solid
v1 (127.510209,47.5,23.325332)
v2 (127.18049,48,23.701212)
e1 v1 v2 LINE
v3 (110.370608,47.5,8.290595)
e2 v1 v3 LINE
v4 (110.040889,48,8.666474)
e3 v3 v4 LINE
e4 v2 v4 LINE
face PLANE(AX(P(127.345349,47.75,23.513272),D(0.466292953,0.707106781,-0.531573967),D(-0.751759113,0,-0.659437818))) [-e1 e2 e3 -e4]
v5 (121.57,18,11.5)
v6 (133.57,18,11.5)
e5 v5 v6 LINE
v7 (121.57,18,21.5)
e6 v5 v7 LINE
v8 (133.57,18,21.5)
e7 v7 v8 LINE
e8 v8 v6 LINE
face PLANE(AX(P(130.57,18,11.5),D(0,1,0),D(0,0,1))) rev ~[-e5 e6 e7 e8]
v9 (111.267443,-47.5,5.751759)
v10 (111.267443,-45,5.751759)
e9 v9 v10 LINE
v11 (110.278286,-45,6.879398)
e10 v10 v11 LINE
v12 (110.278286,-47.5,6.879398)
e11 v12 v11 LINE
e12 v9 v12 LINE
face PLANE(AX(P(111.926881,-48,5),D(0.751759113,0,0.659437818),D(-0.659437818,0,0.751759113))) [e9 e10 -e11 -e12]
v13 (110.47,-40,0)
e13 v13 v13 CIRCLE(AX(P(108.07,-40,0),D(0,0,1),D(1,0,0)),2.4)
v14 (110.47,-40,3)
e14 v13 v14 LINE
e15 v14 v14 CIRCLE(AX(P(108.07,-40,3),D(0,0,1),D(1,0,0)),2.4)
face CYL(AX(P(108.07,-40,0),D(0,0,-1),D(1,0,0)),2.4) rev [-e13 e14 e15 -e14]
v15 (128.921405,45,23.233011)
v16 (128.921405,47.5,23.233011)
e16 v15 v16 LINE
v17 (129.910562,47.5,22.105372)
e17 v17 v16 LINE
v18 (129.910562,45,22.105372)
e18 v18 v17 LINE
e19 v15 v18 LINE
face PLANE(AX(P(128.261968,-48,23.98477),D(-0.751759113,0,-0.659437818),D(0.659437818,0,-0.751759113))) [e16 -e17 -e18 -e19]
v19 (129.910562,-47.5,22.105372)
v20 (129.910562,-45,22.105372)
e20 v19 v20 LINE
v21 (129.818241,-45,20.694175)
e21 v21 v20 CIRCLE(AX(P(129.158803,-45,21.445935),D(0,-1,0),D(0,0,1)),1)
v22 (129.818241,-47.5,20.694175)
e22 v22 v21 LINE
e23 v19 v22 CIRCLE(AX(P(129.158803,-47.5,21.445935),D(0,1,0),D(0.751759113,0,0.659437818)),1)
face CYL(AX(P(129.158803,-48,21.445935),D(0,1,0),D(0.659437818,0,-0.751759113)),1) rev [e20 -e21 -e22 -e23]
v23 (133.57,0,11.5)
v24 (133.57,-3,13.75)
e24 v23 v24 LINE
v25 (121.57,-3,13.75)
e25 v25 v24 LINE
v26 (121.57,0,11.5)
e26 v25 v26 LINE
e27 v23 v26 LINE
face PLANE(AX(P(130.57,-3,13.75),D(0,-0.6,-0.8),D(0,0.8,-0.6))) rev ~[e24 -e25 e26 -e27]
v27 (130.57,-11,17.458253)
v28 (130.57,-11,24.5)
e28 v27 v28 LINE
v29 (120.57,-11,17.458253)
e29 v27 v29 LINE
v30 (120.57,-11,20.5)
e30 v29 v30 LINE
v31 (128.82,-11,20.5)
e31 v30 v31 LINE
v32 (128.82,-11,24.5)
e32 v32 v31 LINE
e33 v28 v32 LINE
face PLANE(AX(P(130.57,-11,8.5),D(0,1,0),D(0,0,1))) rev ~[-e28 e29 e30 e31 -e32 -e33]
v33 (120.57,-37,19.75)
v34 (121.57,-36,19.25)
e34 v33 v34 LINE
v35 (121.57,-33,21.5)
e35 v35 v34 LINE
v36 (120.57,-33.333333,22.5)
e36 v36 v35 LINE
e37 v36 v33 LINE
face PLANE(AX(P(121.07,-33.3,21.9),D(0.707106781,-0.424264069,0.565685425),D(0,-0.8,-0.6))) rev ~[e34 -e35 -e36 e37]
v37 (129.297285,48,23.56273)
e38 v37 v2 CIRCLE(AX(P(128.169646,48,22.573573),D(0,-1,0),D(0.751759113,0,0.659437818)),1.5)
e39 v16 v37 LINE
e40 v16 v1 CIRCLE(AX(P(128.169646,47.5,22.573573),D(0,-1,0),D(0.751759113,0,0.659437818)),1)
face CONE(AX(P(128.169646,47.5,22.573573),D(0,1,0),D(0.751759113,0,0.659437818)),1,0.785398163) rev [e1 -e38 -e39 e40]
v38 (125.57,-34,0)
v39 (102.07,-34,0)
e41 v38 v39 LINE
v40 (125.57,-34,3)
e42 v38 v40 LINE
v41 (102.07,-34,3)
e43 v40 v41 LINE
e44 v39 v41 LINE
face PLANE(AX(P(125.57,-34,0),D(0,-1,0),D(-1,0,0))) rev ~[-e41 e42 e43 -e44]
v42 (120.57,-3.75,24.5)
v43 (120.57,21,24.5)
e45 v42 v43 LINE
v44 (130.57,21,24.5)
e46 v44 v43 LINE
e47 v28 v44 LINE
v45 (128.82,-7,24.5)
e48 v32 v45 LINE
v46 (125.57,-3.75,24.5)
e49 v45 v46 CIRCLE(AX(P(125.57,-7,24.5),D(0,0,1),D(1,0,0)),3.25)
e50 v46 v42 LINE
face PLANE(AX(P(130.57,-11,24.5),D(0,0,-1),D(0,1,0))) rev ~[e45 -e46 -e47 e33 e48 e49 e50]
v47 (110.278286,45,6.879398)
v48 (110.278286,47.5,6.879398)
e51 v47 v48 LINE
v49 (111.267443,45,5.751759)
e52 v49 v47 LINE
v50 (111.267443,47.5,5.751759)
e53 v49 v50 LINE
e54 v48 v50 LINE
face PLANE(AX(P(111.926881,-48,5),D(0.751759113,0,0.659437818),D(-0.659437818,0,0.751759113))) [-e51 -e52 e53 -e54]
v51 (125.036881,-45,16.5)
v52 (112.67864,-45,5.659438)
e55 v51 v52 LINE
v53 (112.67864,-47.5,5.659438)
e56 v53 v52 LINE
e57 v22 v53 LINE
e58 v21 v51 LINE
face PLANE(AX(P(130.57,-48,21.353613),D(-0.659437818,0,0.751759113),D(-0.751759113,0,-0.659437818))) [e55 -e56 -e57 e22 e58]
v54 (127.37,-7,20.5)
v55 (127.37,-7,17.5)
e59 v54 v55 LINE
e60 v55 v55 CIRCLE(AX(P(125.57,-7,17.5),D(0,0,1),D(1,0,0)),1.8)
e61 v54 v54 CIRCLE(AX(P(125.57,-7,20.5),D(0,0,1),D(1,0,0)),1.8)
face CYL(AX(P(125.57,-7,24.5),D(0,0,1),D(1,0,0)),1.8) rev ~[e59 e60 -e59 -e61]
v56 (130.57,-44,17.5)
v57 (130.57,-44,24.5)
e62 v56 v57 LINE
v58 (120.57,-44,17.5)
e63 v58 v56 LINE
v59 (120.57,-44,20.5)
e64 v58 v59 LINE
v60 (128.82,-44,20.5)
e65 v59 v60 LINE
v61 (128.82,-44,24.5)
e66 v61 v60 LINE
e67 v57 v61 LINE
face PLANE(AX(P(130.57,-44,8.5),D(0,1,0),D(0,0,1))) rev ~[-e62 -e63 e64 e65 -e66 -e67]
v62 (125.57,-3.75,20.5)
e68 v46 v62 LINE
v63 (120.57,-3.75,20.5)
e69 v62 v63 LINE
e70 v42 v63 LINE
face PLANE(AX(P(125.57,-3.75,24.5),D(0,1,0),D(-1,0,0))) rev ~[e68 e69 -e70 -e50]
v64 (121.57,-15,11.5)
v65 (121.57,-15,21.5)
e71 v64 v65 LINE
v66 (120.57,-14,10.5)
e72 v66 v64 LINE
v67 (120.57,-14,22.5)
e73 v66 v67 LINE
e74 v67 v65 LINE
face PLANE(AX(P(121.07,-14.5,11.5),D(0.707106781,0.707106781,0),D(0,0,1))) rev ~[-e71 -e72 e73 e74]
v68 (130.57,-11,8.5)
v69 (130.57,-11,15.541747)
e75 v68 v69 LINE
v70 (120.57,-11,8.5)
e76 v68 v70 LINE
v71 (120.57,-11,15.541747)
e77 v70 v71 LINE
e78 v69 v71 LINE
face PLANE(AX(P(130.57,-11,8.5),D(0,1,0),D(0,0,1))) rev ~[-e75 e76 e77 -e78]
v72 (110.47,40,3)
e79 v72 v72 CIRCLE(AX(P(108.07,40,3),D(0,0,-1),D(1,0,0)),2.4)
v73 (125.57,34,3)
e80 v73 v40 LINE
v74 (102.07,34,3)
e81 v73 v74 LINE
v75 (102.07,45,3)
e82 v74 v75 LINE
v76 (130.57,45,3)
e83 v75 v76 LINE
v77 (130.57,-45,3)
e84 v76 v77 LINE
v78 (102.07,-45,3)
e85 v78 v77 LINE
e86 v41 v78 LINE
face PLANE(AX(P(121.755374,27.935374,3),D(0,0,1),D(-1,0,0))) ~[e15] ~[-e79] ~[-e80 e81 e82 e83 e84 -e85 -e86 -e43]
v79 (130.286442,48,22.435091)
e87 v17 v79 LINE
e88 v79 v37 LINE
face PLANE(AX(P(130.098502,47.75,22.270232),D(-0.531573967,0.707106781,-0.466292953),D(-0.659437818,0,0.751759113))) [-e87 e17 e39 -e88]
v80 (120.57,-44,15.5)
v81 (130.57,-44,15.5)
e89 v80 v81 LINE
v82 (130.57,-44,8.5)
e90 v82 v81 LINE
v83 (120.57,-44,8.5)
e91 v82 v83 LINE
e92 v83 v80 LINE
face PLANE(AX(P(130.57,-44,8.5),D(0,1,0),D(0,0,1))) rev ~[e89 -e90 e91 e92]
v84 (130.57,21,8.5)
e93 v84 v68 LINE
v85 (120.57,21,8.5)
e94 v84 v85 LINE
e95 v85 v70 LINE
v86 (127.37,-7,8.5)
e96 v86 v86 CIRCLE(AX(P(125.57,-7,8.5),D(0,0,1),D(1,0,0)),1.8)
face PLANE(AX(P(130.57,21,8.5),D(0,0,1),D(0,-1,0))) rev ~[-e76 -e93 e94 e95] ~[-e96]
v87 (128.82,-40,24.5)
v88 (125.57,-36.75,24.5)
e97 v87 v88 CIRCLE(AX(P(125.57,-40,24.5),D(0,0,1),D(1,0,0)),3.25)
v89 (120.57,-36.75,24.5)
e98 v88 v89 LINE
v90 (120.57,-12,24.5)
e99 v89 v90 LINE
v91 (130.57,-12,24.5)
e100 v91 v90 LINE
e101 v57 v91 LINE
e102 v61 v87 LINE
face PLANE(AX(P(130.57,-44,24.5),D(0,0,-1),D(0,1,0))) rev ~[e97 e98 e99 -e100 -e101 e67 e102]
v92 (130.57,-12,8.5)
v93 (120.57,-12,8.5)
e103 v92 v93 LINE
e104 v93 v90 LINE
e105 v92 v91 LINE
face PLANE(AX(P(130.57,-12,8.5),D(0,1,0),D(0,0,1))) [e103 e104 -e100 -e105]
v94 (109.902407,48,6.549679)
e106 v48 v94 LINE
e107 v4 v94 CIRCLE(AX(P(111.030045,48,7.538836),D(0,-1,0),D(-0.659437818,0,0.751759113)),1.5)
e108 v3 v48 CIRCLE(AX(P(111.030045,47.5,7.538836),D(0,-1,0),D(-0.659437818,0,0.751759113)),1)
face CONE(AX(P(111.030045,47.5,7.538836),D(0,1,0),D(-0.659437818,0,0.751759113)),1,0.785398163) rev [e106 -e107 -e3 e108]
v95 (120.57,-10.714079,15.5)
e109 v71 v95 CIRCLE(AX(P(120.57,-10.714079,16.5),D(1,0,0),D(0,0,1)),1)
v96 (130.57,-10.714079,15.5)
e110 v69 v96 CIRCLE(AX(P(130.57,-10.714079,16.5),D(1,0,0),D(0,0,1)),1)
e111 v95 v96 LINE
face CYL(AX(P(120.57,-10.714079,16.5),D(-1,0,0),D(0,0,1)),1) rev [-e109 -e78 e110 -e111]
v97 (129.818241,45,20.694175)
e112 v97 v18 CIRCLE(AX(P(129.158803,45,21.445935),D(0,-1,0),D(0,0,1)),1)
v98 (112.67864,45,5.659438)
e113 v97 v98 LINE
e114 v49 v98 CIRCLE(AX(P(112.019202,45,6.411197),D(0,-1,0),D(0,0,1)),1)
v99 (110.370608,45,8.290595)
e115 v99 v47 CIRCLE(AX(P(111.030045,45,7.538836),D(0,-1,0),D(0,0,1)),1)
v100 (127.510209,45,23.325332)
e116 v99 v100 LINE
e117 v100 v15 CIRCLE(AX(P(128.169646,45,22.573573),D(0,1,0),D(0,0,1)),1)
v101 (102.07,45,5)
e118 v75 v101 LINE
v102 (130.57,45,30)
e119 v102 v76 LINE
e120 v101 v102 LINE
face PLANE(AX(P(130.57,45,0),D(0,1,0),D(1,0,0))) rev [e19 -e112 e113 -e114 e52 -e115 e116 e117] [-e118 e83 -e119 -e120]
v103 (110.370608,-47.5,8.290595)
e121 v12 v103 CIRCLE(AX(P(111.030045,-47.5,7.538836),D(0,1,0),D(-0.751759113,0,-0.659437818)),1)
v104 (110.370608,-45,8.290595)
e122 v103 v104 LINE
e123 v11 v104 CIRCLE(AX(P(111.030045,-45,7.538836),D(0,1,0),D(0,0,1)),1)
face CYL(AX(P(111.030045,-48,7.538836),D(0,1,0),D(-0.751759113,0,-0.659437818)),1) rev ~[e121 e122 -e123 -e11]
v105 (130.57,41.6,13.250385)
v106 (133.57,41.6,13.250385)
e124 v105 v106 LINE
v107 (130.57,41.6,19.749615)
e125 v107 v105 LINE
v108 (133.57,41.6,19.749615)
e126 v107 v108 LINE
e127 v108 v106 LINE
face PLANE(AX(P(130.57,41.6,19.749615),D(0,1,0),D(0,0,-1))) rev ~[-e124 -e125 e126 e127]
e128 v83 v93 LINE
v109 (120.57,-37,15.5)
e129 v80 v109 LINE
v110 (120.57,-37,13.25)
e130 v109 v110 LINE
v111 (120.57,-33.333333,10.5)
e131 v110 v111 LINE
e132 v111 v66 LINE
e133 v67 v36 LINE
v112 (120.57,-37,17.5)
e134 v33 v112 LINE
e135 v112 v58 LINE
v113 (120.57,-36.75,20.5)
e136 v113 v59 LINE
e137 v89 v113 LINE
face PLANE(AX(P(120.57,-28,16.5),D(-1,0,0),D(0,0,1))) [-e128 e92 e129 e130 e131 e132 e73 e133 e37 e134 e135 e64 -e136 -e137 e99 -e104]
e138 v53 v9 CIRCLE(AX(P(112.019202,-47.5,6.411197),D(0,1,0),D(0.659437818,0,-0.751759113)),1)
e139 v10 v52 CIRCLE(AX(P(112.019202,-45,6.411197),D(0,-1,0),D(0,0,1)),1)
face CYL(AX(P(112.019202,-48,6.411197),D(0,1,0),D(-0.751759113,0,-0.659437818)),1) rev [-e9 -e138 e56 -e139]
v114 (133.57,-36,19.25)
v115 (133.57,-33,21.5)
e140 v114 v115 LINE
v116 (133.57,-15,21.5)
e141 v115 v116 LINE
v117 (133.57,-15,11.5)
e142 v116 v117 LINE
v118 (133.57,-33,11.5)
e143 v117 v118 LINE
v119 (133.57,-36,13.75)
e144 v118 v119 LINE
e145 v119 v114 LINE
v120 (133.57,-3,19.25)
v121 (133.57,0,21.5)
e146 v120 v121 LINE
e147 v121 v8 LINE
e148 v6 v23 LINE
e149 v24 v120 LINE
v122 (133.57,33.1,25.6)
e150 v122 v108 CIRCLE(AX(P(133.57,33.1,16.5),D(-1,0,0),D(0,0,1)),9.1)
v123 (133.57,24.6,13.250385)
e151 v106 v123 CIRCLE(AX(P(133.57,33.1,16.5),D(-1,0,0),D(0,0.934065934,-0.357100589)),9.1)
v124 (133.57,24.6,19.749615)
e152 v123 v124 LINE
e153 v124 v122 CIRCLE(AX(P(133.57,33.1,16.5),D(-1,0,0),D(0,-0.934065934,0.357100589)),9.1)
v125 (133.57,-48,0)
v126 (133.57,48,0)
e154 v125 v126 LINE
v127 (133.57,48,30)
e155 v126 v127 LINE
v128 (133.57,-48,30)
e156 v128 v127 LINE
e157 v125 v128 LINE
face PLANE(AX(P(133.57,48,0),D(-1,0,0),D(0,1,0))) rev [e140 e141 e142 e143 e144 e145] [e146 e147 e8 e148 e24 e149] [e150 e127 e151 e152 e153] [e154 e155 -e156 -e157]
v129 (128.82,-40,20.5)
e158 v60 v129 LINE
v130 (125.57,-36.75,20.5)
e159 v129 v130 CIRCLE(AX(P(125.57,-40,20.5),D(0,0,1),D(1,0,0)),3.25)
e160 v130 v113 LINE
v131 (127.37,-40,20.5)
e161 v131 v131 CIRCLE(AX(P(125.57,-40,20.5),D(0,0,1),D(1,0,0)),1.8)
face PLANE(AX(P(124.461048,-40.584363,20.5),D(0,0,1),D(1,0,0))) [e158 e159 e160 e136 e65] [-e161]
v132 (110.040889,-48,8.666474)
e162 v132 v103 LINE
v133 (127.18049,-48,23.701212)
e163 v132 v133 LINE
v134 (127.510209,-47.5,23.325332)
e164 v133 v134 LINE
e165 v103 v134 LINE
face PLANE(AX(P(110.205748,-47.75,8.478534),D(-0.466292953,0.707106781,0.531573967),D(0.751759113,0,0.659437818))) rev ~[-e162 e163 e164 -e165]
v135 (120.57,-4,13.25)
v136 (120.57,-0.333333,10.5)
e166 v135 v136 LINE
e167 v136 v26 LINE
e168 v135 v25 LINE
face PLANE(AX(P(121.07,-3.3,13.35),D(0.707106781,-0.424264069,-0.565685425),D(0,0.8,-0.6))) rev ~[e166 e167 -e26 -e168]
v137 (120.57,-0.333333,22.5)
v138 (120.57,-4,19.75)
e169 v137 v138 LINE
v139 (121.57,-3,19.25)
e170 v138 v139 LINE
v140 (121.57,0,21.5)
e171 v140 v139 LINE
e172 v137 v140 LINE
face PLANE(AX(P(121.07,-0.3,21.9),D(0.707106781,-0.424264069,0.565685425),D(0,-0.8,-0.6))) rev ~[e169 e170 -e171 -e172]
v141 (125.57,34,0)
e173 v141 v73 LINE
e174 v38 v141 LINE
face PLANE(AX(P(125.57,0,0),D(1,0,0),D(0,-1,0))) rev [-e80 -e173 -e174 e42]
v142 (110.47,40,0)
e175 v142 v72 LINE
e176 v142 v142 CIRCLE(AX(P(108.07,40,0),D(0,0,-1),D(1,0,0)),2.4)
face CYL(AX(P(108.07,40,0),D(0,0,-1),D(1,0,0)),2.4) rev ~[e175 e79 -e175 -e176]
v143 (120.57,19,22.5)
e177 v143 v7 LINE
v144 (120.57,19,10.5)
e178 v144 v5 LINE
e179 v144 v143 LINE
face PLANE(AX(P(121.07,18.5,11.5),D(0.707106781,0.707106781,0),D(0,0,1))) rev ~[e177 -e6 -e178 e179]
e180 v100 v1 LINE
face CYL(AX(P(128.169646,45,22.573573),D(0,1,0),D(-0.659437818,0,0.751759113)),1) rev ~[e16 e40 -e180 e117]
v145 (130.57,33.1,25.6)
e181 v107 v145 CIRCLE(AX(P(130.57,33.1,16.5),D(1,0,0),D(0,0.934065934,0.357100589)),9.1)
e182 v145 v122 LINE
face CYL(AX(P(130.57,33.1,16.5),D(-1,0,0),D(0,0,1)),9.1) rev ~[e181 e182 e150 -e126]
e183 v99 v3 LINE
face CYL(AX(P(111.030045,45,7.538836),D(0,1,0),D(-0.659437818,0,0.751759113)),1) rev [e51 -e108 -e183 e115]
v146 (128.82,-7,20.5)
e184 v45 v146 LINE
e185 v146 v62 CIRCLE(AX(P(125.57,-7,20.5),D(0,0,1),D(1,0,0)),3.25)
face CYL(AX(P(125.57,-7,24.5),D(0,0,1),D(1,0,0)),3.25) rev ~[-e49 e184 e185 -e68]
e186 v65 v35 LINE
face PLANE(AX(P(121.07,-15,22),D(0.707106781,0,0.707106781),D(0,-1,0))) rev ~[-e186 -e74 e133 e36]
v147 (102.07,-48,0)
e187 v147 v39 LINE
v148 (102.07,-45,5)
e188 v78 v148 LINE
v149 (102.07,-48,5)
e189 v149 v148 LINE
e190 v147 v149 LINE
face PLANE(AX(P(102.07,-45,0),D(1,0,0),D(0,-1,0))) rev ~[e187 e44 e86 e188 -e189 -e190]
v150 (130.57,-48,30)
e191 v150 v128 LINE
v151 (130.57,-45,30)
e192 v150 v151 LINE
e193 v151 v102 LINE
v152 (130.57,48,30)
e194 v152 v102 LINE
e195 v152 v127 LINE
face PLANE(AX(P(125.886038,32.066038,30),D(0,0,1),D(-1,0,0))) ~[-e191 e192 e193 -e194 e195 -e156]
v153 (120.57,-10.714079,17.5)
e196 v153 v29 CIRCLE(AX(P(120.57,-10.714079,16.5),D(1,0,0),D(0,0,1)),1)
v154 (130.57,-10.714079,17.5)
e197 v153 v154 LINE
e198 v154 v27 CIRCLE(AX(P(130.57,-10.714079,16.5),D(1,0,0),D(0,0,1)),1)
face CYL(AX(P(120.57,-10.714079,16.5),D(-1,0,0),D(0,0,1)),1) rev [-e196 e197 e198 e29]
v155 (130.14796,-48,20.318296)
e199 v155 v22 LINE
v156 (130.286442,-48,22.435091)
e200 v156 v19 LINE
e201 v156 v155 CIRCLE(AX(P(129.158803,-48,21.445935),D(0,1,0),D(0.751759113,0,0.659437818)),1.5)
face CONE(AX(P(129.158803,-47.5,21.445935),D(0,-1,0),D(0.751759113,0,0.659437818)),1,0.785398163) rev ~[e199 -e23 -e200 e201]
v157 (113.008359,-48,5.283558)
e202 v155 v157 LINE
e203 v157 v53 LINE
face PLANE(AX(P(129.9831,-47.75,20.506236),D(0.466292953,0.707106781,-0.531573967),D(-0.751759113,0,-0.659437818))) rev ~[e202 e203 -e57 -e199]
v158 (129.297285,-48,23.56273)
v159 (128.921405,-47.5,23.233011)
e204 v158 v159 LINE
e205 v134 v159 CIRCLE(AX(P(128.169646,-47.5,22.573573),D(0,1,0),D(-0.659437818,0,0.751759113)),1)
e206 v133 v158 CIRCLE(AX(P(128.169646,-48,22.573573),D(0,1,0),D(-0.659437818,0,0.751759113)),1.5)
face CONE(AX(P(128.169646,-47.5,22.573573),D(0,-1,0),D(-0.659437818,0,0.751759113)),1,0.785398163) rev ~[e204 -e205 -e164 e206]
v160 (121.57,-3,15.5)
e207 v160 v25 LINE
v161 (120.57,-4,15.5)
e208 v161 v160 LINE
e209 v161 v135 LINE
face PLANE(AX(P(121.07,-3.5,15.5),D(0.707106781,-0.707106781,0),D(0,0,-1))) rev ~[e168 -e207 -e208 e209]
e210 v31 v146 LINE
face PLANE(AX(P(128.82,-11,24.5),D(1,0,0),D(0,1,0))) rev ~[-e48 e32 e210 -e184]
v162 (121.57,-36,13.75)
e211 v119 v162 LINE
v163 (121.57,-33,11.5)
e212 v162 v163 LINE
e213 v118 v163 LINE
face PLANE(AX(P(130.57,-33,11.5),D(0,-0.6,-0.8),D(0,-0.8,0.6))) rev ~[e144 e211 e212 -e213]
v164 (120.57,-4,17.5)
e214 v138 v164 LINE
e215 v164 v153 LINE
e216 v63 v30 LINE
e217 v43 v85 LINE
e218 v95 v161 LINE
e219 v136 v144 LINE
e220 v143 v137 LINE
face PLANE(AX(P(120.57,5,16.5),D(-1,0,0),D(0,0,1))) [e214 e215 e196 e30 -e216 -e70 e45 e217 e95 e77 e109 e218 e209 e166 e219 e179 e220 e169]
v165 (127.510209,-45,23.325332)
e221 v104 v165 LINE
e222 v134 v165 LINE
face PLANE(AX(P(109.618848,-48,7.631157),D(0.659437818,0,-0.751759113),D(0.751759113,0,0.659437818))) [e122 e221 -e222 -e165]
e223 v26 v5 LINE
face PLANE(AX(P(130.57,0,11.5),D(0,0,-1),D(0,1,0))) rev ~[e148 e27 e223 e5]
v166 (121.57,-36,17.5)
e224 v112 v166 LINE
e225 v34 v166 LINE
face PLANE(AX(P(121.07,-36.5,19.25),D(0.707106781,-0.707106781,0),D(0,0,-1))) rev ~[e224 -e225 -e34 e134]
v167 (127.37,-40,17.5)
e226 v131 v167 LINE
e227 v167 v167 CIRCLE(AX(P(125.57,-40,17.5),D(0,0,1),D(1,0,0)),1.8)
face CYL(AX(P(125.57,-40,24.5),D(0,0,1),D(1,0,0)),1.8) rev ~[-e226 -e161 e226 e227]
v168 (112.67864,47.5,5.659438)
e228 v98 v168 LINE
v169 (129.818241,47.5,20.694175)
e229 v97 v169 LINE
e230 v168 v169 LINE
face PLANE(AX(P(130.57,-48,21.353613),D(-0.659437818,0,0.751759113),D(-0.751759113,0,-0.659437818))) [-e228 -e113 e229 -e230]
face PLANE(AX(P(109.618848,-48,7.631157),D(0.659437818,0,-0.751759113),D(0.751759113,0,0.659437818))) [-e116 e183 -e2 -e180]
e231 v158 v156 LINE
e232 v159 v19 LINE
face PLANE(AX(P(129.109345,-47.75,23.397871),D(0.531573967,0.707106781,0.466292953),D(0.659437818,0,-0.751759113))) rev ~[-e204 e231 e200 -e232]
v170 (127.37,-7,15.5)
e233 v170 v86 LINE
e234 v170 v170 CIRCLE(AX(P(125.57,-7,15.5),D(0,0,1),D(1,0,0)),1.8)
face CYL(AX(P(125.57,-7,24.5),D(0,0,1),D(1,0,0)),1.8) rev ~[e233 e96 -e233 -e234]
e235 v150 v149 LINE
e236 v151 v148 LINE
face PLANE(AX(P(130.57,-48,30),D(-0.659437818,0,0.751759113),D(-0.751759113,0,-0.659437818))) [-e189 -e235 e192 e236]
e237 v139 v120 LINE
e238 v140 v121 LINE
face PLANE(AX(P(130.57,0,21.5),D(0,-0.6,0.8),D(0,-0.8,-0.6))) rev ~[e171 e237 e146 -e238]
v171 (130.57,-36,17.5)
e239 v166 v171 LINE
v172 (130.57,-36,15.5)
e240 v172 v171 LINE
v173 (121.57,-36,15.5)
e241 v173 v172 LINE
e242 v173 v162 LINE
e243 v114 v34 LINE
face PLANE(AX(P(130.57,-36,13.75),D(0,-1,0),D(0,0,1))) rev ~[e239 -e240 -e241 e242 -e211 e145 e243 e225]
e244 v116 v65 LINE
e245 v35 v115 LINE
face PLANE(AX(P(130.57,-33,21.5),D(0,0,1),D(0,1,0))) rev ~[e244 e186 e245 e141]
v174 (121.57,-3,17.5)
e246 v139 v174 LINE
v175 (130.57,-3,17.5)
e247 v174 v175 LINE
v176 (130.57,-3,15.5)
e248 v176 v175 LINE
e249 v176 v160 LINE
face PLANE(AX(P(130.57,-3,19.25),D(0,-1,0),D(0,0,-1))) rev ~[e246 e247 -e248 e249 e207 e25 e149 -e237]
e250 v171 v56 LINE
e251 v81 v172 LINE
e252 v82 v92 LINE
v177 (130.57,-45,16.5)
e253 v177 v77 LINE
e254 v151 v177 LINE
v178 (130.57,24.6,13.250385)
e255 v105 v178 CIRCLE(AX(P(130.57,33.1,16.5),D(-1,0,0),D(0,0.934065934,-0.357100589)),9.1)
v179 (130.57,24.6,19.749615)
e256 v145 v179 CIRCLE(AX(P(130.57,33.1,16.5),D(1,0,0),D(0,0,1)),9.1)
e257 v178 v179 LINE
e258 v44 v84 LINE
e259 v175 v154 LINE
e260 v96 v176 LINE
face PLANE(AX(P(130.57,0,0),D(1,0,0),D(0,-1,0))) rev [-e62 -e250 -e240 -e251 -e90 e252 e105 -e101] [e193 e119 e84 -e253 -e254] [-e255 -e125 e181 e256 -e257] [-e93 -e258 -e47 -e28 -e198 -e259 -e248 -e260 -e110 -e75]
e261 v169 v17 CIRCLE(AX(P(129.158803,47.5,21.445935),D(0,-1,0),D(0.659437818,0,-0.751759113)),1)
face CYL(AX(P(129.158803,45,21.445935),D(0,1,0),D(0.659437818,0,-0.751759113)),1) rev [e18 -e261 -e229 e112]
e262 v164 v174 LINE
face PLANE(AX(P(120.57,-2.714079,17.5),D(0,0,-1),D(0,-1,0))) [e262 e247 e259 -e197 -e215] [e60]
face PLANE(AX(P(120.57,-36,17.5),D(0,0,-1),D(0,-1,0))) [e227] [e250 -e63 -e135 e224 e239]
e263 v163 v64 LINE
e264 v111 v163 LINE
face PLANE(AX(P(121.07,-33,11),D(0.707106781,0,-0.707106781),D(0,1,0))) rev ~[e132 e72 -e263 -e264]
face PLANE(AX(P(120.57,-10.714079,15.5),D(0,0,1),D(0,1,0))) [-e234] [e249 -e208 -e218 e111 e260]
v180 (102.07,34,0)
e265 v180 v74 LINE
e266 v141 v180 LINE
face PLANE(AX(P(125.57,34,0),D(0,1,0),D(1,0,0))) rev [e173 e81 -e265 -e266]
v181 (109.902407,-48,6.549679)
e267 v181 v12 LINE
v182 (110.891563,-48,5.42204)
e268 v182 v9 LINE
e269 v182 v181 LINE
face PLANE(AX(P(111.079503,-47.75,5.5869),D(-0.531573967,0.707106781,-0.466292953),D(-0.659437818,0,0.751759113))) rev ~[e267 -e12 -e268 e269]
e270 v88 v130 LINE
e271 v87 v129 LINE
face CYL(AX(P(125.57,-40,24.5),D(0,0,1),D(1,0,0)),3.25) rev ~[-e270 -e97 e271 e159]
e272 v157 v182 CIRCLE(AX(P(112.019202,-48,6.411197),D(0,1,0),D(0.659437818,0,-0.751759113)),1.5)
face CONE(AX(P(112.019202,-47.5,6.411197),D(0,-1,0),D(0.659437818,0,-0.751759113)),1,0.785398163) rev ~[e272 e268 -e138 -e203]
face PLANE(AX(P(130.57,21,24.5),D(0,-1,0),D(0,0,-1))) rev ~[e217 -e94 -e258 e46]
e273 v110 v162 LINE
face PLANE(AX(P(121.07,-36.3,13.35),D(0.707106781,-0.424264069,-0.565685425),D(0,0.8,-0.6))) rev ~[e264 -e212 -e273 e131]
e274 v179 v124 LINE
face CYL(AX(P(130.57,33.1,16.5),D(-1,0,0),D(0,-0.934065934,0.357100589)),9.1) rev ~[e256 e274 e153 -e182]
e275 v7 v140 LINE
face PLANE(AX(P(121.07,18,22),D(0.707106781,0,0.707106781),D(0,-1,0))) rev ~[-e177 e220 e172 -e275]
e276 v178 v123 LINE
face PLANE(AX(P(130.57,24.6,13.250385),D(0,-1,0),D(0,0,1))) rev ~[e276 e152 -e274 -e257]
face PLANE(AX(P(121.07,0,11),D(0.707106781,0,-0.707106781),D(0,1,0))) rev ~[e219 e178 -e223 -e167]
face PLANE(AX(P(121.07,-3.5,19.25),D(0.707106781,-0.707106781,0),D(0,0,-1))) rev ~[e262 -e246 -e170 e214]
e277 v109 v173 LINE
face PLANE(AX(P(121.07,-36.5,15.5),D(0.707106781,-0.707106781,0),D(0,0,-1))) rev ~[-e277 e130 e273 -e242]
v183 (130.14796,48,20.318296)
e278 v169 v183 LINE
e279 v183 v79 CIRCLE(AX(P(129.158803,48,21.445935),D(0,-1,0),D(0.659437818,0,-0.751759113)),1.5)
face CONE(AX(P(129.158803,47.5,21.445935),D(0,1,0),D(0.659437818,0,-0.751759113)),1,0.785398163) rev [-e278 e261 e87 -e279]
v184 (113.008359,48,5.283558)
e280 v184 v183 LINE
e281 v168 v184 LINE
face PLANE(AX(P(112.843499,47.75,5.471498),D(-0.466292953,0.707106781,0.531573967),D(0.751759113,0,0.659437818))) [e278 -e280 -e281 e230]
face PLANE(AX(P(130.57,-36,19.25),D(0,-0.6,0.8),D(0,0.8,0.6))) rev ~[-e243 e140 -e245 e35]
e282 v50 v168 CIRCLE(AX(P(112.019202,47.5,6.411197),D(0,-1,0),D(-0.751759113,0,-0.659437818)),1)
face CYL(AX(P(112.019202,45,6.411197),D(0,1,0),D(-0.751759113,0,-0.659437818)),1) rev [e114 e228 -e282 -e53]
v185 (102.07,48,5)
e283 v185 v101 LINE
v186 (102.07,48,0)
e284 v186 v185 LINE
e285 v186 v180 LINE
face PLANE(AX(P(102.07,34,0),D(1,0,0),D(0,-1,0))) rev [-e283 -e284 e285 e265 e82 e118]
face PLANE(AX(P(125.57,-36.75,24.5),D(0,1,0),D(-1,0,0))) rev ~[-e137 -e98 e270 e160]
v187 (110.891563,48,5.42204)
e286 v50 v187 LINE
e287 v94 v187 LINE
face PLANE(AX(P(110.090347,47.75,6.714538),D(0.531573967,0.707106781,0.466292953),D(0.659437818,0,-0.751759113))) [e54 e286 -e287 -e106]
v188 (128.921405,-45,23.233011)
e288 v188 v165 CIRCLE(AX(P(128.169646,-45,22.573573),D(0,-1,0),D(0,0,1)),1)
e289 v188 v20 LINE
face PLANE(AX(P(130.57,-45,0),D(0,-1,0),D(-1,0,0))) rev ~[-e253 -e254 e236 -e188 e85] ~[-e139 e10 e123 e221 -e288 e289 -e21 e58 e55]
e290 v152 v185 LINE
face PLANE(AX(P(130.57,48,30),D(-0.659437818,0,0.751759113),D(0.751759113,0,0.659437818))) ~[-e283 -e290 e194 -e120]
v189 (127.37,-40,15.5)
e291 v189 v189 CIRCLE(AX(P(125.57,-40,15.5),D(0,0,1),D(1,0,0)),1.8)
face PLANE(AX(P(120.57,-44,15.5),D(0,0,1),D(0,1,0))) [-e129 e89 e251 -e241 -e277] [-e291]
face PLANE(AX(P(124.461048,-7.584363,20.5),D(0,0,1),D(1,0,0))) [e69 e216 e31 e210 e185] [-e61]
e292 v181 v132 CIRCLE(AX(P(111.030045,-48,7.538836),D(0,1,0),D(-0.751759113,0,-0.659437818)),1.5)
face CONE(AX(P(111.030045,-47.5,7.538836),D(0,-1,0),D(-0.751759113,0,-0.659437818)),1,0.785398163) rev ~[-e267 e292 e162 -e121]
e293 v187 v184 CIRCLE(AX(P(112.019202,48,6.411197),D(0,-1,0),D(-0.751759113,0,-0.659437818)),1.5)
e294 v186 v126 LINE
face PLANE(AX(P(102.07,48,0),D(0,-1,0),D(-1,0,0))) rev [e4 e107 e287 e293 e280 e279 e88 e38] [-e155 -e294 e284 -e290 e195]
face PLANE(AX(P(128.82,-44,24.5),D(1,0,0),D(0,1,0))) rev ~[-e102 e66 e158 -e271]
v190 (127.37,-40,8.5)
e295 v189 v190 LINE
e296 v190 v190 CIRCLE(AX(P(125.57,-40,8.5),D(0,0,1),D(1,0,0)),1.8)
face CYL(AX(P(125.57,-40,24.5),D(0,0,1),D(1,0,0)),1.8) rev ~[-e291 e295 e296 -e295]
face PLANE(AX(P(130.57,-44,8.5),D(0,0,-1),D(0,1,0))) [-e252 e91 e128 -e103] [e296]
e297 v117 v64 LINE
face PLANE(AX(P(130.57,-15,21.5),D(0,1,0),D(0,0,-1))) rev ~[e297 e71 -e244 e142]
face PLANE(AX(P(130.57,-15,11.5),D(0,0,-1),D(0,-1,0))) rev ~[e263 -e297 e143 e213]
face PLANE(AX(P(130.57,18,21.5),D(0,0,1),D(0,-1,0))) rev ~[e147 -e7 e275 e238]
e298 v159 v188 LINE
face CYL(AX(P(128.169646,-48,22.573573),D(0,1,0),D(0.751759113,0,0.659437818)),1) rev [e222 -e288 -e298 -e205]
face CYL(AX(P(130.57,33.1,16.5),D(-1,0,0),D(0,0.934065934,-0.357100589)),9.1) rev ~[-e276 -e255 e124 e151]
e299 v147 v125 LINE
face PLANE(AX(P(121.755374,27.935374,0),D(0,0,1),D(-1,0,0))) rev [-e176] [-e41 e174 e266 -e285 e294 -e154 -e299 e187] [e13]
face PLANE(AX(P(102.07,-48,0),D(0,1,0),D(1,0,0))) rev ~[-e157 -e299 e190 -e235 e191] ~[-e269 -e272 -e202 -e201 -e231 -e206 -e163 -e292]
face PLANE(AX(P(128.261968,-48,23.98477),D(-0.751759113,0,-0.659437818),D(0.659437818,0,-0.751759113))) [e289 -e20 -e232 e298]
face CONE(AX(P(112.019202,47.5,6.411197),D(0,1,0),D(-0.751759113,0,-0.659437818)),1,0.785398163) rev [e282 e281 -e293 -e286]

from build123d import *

# Parameters (mm, degrees)
SKETCH4_R           = 2.4
BOSS_EXTRUDE4_DEPTH = 3
BOSS_EXTRUDE5_DEPTH = 30
CUT_EXTRUDE2_START  = -3
CUT_EXTRUDE2_DEPTH  = 148.103937837
SOCKETHOLES_DEPTH   = 3
CUT_EXTRUDE4_DEPTH  = 110
FILLET1_R           = 1
CHAMFER1_SIZE       = 0.5
SKETCH14_W          = 16
SKETCH14_H          = 32
BOSS_EXTRUDE6_DEPTH = 10
CUT_EXTRUDE5_DEPTH  = 10
CHAMFER2_SIZE       = 1
SKETCH18_R          = 1.8
CUT_EXTRUDE7_DEPTH  = 17
SKETCH19_R          = 1.8
CUT_EXTRUDE8_DEPTH  = 4


with BuildPart() as part:
    # Sketch4 → Boss-Extrude4 (new body)
    with BuildSketch(Plane.XY):
        Polygon((130.57, 0), (125.57, 0), (125.57, -34), (102.07, -34), (102.07, -45), (130.57, -45), align=None)
        with Locations((108.07, -40)):
            Circle(SKETCH4_R, mode=Mode.SUBTRACT)
    boss_extrude4 = extrude(amount=BOSS_EXTRUDE4_DEPTH)

    # Sketch4<10> → Boss-Extrude5 (add)
    with BuildSketch(Plane.XY):
        Polygon((133.57, 0), (130.57, 0), (130.57, -45), (102.07, -45), (102.07, -48), (121.666903009, -48), (133.57, -48), align=None)
    boss_extrude5 = extrude(amount=BOSS_EXTRUDE5_DEPTH)

    # Sketch11 → Cut-Extrude2 (cut)
    with BuildSketch(Plane(origin=(0, -45, 0), x_dir=(1, 0, 0), z_dir=(0, 1, 0)).offset(CUT_EXTRUDE2_START)):
        Polygon((102.07, -30), (130.57, -30), (102.07, -5), align=None)
    cut_extrude2 = extrude(amount=CUT_EXTRUDE2_DEPTH, mode=Mode.SUBTRACT)

    # Mirror2: Boss-Extrude4, Boss-Extrude5, Cut-Extrude2 across plane
    add(boss_extrude4.mirror(Plane.ZX))
    add(boss_extrude5.mirror(Plane.ZX))
    add(cut_extrude2.mirror(Plane.ZX), mode=Mode.SUBTRACT)

    # Socket holes → socketholes (cut)
    with BuildSketch(Plane.ZY.offset(-130.57)):
        Polygon((21.5, -33), (21.5, -15), (11.5, -15), (11.5, -33), (13.75, -36), (19.25, -36), align=None)
        with BuildLine():
            Line((19.749615362, 41.6), (13.250384638, 41.6))
            ThreePointArc((13.250384638, 41.6), (7.4, 33.1), (13.250384638, 24.6))
            Line((13.250384638, 24.6), (19.749615362, 24.6))
            ThreePointArc((19.749615362, 24.6), (23.996048952, 27.940615337), (25.6, 33.1))
            ThreePointArc((25.6, 33.1), (23.996048952, 38.259384663), (19.749615362, 41.6))
        make_face()
        Polygon((21.5, 18), (11.5, 18), (11.5, 0), (13.75, -3), (19.25, -3), (21.5, 0), align=None)
    extrude(amount=-SOCKETHOLES_DEPTH, mode=Mode.SUBTRACT)

    # Sketch12 → Cut-Extrude4 (cut)
    with BuildSketch(Plane.XZ.offset(48)):
        Polygon((109.618848481, 7.631156895), (128.261967636, 23.984770189), (130.57, 21.353613294), (111.926880845, 5), align=None)
    extrude(amount=-CUT_EXTRUDE4_DEPTH, mode=Mode.SUBTRACT)

    # Fillet1
    fillet1_edges = [part.edges().sort_by_distance(p)[0] for p in [
        (111.926880845, 46.5, 5),
        (109.618848481, 46.5, 7.631156895),
        (128.261967636, 46.5, 23.984770189),
        (130.57, 46.5, 21.353613294),
        (111.926880845, -46.5, 5),
        (109.618848481, -46.5, 7.631156895),
        (128.261967636, -46.5, 23.984770189),
        (130.57, -46.5, 21.353613294),
    ]]
    fillet(fillet1_edges, radius=FILLET1_R)

    # Chamfer1
    chamfer1_edges = [part.edges().sort_by_distance(p)[0] for p in [
        (110.772864663, 48, 6.315578448),
        (118.940408059, 48, 15.807963542),
        (121.248440423, 48, 13.176806647),
        (129.415983818, 48, 22.669191741),
        (121.248440423, -48, 13.176806647),
        (110.772864663, -48, 6.315578448),
        (118.940408059, -48, 15.807963542),
        (129.415983818, -48, 22.669191741),
        (110.032178493, 48, 7.604116614),
        (111.953921127, 48, 5.413330012),
        (130.156669988, 48, 21.380653575),
        (128.234927355, 48, 23.571440177),
        (111.953921127, -48, 5.413330012),
        (110.032178493, -48, 7.604116614),
        (128.234927355, -48, 23.571440177),
        (130.156669988, -48, 21.380653575),
    ]]
    chamfer(chamfer1_edges, length=CHAMFER1_SIZE)

    # Sketch14 → Boss-Extrude6 (add)
    # profile 1 of 2: a face of its own
    with BuildSketch(Plane.ZY.offset(-130.57)):
        Polygon((8.5, 21), (8.5, -1), (8.5, -11), (24.5, -11), (24.5, -1), (24.5, 21), align=None)
        Polygon((11.5, 0), (11.5, 18), (21.5, 18), (21.5, 0), (19.25, -3), (13.75, -3), align=None, mode=Mode.SUBTRACT)
    # profile 2 of 2: a face of its own
    with BuildSketch(Plane.ZY.offset(-130.57)):
        with Locations((16.5, -28)):
            Rectangle(SKETCH14_W, SKETCH14_H)
        Polygon((21.5, -33), (19.25, -36), (13.75, -36), (11.5, -33), (11.5, -15), (21.5, -15), align=None, mode=Mode.SUBTRACT)
    extrude(amount=BOSS_EXTRUDE6_DEPTH)

    # Sketch15 → Cut-Extrude5 (cut)
    with BuildSketch(Plane.ZY.offset(-120.57)):
        with BuildLine():
            Line((17.5, -36), (17.5, -44))
            ThreePointArc((17.5, -44), (16.5, -45), (15.5, -44))
            Line((15.5, -44), (15.5, -36))
            ThreePointArc((15.5, -36), (16.5, -35), (17.5, -36))
        make_face()
        with BuildLine():
            Line((15.5, -10.714079148), (15.5, -2.714079148))
            ThreePointArc((15.5, -2.714079148), (16.5, -1.714079148), (17.5, -2.714079148))
            Line((17.5, -2.714079148), (17.5, -10.714079148))
            ThreePointArc((17.5, -10.714079148), (16.5, -11.714079148), (15.5, -10.714079148))
        make_face()
    extrude(amount=-CUT_EXTRUDE5_DEPTH, mode=Mode.SUBTRACT)

    # Chamfer2
    chamfer2_edges = [part.edges().sort_by_distance(p)[0] for p in [
        (120.57, -34.5, 12.625),
        (120.57, -24, 11.5),
        (120.57, -15, 16.5),
        (120.57, -24, 21.5),
        (120.57, -34.5, 20.375),
        (120.57, -36, 18.375),
        (120.57, 9, 21.5),
        (120.57, 18, 16.5),
        (120.57, 9, 11.5),
        (120.57, -1.5, 12.625),
        (120.57, -3, 14.625),
        (120.57, -1.5, 20.375),
        (120.57, -3, 18.375),
        (120.57, -36, 14.625),
    ]]
    chamfer(chamfer2_edges, length=CHAMFER2_SIZE)

    # Sketch18 → Cut-Extrude7 (cut)
    with BuildSketch(Plane.XY.offset(24.5)):
        with Locations((125.57, -40)):
            Circle(SKETCH18_R)
        with Locations((125.57, -7)):
            Circle(SKETCH18_R)
    extrude(amount=-CUT_EXTRUDE7_DEPTH, mode=Mode.SUBTRACT)

    # Sketch19 → Cut-Extrude8 (cut)
    # profile 1 of 2: a face of its own
    with BuildSketch(Plane.XY.offset(24.5)):
        with BuildLine():
            Line((128.82, -44), (128.82, -40))
            ThreePointArc((128.82, -40), (127.868097039, -37.701902961), (125.57, -36.75))
            Line((125.57, -36.75), (120.57, -36.75))
            Line((120.57, -36.75), (120.57, -44))
            Line((120.57, -44), (128.82, -44))
        make_face()
        with Locations((125.57, -40)):
            Circle(SKETCH19_R, mode=Mode.SUBTRACT)
    # profile 2 of 2: a face of its own
    with BuildSketch(Plane.XY.offset(24.5)):
        with BuildLine():
            ThreePointArc((128.82, -7), (127.868097039, -4.701902961), (125.57, -3.75))
            Line((125.57, -3.75), (120.57, -3.75))
            Line((120.57, -3.75), (120.57, -11))
            Line((120.57, -11), (128.82, -11))
            Line((128.82, -11), (128.82, -7))
        make_face()
        with Locations((125.57, -7)):
            Circle(SKETCH19_R, mode=Mode.SUBTRACT)
    extrude(amount=-CUT_EXTRUDE8_DEPTH, mode=Mode.SUBTRACT)


solid = part.part
